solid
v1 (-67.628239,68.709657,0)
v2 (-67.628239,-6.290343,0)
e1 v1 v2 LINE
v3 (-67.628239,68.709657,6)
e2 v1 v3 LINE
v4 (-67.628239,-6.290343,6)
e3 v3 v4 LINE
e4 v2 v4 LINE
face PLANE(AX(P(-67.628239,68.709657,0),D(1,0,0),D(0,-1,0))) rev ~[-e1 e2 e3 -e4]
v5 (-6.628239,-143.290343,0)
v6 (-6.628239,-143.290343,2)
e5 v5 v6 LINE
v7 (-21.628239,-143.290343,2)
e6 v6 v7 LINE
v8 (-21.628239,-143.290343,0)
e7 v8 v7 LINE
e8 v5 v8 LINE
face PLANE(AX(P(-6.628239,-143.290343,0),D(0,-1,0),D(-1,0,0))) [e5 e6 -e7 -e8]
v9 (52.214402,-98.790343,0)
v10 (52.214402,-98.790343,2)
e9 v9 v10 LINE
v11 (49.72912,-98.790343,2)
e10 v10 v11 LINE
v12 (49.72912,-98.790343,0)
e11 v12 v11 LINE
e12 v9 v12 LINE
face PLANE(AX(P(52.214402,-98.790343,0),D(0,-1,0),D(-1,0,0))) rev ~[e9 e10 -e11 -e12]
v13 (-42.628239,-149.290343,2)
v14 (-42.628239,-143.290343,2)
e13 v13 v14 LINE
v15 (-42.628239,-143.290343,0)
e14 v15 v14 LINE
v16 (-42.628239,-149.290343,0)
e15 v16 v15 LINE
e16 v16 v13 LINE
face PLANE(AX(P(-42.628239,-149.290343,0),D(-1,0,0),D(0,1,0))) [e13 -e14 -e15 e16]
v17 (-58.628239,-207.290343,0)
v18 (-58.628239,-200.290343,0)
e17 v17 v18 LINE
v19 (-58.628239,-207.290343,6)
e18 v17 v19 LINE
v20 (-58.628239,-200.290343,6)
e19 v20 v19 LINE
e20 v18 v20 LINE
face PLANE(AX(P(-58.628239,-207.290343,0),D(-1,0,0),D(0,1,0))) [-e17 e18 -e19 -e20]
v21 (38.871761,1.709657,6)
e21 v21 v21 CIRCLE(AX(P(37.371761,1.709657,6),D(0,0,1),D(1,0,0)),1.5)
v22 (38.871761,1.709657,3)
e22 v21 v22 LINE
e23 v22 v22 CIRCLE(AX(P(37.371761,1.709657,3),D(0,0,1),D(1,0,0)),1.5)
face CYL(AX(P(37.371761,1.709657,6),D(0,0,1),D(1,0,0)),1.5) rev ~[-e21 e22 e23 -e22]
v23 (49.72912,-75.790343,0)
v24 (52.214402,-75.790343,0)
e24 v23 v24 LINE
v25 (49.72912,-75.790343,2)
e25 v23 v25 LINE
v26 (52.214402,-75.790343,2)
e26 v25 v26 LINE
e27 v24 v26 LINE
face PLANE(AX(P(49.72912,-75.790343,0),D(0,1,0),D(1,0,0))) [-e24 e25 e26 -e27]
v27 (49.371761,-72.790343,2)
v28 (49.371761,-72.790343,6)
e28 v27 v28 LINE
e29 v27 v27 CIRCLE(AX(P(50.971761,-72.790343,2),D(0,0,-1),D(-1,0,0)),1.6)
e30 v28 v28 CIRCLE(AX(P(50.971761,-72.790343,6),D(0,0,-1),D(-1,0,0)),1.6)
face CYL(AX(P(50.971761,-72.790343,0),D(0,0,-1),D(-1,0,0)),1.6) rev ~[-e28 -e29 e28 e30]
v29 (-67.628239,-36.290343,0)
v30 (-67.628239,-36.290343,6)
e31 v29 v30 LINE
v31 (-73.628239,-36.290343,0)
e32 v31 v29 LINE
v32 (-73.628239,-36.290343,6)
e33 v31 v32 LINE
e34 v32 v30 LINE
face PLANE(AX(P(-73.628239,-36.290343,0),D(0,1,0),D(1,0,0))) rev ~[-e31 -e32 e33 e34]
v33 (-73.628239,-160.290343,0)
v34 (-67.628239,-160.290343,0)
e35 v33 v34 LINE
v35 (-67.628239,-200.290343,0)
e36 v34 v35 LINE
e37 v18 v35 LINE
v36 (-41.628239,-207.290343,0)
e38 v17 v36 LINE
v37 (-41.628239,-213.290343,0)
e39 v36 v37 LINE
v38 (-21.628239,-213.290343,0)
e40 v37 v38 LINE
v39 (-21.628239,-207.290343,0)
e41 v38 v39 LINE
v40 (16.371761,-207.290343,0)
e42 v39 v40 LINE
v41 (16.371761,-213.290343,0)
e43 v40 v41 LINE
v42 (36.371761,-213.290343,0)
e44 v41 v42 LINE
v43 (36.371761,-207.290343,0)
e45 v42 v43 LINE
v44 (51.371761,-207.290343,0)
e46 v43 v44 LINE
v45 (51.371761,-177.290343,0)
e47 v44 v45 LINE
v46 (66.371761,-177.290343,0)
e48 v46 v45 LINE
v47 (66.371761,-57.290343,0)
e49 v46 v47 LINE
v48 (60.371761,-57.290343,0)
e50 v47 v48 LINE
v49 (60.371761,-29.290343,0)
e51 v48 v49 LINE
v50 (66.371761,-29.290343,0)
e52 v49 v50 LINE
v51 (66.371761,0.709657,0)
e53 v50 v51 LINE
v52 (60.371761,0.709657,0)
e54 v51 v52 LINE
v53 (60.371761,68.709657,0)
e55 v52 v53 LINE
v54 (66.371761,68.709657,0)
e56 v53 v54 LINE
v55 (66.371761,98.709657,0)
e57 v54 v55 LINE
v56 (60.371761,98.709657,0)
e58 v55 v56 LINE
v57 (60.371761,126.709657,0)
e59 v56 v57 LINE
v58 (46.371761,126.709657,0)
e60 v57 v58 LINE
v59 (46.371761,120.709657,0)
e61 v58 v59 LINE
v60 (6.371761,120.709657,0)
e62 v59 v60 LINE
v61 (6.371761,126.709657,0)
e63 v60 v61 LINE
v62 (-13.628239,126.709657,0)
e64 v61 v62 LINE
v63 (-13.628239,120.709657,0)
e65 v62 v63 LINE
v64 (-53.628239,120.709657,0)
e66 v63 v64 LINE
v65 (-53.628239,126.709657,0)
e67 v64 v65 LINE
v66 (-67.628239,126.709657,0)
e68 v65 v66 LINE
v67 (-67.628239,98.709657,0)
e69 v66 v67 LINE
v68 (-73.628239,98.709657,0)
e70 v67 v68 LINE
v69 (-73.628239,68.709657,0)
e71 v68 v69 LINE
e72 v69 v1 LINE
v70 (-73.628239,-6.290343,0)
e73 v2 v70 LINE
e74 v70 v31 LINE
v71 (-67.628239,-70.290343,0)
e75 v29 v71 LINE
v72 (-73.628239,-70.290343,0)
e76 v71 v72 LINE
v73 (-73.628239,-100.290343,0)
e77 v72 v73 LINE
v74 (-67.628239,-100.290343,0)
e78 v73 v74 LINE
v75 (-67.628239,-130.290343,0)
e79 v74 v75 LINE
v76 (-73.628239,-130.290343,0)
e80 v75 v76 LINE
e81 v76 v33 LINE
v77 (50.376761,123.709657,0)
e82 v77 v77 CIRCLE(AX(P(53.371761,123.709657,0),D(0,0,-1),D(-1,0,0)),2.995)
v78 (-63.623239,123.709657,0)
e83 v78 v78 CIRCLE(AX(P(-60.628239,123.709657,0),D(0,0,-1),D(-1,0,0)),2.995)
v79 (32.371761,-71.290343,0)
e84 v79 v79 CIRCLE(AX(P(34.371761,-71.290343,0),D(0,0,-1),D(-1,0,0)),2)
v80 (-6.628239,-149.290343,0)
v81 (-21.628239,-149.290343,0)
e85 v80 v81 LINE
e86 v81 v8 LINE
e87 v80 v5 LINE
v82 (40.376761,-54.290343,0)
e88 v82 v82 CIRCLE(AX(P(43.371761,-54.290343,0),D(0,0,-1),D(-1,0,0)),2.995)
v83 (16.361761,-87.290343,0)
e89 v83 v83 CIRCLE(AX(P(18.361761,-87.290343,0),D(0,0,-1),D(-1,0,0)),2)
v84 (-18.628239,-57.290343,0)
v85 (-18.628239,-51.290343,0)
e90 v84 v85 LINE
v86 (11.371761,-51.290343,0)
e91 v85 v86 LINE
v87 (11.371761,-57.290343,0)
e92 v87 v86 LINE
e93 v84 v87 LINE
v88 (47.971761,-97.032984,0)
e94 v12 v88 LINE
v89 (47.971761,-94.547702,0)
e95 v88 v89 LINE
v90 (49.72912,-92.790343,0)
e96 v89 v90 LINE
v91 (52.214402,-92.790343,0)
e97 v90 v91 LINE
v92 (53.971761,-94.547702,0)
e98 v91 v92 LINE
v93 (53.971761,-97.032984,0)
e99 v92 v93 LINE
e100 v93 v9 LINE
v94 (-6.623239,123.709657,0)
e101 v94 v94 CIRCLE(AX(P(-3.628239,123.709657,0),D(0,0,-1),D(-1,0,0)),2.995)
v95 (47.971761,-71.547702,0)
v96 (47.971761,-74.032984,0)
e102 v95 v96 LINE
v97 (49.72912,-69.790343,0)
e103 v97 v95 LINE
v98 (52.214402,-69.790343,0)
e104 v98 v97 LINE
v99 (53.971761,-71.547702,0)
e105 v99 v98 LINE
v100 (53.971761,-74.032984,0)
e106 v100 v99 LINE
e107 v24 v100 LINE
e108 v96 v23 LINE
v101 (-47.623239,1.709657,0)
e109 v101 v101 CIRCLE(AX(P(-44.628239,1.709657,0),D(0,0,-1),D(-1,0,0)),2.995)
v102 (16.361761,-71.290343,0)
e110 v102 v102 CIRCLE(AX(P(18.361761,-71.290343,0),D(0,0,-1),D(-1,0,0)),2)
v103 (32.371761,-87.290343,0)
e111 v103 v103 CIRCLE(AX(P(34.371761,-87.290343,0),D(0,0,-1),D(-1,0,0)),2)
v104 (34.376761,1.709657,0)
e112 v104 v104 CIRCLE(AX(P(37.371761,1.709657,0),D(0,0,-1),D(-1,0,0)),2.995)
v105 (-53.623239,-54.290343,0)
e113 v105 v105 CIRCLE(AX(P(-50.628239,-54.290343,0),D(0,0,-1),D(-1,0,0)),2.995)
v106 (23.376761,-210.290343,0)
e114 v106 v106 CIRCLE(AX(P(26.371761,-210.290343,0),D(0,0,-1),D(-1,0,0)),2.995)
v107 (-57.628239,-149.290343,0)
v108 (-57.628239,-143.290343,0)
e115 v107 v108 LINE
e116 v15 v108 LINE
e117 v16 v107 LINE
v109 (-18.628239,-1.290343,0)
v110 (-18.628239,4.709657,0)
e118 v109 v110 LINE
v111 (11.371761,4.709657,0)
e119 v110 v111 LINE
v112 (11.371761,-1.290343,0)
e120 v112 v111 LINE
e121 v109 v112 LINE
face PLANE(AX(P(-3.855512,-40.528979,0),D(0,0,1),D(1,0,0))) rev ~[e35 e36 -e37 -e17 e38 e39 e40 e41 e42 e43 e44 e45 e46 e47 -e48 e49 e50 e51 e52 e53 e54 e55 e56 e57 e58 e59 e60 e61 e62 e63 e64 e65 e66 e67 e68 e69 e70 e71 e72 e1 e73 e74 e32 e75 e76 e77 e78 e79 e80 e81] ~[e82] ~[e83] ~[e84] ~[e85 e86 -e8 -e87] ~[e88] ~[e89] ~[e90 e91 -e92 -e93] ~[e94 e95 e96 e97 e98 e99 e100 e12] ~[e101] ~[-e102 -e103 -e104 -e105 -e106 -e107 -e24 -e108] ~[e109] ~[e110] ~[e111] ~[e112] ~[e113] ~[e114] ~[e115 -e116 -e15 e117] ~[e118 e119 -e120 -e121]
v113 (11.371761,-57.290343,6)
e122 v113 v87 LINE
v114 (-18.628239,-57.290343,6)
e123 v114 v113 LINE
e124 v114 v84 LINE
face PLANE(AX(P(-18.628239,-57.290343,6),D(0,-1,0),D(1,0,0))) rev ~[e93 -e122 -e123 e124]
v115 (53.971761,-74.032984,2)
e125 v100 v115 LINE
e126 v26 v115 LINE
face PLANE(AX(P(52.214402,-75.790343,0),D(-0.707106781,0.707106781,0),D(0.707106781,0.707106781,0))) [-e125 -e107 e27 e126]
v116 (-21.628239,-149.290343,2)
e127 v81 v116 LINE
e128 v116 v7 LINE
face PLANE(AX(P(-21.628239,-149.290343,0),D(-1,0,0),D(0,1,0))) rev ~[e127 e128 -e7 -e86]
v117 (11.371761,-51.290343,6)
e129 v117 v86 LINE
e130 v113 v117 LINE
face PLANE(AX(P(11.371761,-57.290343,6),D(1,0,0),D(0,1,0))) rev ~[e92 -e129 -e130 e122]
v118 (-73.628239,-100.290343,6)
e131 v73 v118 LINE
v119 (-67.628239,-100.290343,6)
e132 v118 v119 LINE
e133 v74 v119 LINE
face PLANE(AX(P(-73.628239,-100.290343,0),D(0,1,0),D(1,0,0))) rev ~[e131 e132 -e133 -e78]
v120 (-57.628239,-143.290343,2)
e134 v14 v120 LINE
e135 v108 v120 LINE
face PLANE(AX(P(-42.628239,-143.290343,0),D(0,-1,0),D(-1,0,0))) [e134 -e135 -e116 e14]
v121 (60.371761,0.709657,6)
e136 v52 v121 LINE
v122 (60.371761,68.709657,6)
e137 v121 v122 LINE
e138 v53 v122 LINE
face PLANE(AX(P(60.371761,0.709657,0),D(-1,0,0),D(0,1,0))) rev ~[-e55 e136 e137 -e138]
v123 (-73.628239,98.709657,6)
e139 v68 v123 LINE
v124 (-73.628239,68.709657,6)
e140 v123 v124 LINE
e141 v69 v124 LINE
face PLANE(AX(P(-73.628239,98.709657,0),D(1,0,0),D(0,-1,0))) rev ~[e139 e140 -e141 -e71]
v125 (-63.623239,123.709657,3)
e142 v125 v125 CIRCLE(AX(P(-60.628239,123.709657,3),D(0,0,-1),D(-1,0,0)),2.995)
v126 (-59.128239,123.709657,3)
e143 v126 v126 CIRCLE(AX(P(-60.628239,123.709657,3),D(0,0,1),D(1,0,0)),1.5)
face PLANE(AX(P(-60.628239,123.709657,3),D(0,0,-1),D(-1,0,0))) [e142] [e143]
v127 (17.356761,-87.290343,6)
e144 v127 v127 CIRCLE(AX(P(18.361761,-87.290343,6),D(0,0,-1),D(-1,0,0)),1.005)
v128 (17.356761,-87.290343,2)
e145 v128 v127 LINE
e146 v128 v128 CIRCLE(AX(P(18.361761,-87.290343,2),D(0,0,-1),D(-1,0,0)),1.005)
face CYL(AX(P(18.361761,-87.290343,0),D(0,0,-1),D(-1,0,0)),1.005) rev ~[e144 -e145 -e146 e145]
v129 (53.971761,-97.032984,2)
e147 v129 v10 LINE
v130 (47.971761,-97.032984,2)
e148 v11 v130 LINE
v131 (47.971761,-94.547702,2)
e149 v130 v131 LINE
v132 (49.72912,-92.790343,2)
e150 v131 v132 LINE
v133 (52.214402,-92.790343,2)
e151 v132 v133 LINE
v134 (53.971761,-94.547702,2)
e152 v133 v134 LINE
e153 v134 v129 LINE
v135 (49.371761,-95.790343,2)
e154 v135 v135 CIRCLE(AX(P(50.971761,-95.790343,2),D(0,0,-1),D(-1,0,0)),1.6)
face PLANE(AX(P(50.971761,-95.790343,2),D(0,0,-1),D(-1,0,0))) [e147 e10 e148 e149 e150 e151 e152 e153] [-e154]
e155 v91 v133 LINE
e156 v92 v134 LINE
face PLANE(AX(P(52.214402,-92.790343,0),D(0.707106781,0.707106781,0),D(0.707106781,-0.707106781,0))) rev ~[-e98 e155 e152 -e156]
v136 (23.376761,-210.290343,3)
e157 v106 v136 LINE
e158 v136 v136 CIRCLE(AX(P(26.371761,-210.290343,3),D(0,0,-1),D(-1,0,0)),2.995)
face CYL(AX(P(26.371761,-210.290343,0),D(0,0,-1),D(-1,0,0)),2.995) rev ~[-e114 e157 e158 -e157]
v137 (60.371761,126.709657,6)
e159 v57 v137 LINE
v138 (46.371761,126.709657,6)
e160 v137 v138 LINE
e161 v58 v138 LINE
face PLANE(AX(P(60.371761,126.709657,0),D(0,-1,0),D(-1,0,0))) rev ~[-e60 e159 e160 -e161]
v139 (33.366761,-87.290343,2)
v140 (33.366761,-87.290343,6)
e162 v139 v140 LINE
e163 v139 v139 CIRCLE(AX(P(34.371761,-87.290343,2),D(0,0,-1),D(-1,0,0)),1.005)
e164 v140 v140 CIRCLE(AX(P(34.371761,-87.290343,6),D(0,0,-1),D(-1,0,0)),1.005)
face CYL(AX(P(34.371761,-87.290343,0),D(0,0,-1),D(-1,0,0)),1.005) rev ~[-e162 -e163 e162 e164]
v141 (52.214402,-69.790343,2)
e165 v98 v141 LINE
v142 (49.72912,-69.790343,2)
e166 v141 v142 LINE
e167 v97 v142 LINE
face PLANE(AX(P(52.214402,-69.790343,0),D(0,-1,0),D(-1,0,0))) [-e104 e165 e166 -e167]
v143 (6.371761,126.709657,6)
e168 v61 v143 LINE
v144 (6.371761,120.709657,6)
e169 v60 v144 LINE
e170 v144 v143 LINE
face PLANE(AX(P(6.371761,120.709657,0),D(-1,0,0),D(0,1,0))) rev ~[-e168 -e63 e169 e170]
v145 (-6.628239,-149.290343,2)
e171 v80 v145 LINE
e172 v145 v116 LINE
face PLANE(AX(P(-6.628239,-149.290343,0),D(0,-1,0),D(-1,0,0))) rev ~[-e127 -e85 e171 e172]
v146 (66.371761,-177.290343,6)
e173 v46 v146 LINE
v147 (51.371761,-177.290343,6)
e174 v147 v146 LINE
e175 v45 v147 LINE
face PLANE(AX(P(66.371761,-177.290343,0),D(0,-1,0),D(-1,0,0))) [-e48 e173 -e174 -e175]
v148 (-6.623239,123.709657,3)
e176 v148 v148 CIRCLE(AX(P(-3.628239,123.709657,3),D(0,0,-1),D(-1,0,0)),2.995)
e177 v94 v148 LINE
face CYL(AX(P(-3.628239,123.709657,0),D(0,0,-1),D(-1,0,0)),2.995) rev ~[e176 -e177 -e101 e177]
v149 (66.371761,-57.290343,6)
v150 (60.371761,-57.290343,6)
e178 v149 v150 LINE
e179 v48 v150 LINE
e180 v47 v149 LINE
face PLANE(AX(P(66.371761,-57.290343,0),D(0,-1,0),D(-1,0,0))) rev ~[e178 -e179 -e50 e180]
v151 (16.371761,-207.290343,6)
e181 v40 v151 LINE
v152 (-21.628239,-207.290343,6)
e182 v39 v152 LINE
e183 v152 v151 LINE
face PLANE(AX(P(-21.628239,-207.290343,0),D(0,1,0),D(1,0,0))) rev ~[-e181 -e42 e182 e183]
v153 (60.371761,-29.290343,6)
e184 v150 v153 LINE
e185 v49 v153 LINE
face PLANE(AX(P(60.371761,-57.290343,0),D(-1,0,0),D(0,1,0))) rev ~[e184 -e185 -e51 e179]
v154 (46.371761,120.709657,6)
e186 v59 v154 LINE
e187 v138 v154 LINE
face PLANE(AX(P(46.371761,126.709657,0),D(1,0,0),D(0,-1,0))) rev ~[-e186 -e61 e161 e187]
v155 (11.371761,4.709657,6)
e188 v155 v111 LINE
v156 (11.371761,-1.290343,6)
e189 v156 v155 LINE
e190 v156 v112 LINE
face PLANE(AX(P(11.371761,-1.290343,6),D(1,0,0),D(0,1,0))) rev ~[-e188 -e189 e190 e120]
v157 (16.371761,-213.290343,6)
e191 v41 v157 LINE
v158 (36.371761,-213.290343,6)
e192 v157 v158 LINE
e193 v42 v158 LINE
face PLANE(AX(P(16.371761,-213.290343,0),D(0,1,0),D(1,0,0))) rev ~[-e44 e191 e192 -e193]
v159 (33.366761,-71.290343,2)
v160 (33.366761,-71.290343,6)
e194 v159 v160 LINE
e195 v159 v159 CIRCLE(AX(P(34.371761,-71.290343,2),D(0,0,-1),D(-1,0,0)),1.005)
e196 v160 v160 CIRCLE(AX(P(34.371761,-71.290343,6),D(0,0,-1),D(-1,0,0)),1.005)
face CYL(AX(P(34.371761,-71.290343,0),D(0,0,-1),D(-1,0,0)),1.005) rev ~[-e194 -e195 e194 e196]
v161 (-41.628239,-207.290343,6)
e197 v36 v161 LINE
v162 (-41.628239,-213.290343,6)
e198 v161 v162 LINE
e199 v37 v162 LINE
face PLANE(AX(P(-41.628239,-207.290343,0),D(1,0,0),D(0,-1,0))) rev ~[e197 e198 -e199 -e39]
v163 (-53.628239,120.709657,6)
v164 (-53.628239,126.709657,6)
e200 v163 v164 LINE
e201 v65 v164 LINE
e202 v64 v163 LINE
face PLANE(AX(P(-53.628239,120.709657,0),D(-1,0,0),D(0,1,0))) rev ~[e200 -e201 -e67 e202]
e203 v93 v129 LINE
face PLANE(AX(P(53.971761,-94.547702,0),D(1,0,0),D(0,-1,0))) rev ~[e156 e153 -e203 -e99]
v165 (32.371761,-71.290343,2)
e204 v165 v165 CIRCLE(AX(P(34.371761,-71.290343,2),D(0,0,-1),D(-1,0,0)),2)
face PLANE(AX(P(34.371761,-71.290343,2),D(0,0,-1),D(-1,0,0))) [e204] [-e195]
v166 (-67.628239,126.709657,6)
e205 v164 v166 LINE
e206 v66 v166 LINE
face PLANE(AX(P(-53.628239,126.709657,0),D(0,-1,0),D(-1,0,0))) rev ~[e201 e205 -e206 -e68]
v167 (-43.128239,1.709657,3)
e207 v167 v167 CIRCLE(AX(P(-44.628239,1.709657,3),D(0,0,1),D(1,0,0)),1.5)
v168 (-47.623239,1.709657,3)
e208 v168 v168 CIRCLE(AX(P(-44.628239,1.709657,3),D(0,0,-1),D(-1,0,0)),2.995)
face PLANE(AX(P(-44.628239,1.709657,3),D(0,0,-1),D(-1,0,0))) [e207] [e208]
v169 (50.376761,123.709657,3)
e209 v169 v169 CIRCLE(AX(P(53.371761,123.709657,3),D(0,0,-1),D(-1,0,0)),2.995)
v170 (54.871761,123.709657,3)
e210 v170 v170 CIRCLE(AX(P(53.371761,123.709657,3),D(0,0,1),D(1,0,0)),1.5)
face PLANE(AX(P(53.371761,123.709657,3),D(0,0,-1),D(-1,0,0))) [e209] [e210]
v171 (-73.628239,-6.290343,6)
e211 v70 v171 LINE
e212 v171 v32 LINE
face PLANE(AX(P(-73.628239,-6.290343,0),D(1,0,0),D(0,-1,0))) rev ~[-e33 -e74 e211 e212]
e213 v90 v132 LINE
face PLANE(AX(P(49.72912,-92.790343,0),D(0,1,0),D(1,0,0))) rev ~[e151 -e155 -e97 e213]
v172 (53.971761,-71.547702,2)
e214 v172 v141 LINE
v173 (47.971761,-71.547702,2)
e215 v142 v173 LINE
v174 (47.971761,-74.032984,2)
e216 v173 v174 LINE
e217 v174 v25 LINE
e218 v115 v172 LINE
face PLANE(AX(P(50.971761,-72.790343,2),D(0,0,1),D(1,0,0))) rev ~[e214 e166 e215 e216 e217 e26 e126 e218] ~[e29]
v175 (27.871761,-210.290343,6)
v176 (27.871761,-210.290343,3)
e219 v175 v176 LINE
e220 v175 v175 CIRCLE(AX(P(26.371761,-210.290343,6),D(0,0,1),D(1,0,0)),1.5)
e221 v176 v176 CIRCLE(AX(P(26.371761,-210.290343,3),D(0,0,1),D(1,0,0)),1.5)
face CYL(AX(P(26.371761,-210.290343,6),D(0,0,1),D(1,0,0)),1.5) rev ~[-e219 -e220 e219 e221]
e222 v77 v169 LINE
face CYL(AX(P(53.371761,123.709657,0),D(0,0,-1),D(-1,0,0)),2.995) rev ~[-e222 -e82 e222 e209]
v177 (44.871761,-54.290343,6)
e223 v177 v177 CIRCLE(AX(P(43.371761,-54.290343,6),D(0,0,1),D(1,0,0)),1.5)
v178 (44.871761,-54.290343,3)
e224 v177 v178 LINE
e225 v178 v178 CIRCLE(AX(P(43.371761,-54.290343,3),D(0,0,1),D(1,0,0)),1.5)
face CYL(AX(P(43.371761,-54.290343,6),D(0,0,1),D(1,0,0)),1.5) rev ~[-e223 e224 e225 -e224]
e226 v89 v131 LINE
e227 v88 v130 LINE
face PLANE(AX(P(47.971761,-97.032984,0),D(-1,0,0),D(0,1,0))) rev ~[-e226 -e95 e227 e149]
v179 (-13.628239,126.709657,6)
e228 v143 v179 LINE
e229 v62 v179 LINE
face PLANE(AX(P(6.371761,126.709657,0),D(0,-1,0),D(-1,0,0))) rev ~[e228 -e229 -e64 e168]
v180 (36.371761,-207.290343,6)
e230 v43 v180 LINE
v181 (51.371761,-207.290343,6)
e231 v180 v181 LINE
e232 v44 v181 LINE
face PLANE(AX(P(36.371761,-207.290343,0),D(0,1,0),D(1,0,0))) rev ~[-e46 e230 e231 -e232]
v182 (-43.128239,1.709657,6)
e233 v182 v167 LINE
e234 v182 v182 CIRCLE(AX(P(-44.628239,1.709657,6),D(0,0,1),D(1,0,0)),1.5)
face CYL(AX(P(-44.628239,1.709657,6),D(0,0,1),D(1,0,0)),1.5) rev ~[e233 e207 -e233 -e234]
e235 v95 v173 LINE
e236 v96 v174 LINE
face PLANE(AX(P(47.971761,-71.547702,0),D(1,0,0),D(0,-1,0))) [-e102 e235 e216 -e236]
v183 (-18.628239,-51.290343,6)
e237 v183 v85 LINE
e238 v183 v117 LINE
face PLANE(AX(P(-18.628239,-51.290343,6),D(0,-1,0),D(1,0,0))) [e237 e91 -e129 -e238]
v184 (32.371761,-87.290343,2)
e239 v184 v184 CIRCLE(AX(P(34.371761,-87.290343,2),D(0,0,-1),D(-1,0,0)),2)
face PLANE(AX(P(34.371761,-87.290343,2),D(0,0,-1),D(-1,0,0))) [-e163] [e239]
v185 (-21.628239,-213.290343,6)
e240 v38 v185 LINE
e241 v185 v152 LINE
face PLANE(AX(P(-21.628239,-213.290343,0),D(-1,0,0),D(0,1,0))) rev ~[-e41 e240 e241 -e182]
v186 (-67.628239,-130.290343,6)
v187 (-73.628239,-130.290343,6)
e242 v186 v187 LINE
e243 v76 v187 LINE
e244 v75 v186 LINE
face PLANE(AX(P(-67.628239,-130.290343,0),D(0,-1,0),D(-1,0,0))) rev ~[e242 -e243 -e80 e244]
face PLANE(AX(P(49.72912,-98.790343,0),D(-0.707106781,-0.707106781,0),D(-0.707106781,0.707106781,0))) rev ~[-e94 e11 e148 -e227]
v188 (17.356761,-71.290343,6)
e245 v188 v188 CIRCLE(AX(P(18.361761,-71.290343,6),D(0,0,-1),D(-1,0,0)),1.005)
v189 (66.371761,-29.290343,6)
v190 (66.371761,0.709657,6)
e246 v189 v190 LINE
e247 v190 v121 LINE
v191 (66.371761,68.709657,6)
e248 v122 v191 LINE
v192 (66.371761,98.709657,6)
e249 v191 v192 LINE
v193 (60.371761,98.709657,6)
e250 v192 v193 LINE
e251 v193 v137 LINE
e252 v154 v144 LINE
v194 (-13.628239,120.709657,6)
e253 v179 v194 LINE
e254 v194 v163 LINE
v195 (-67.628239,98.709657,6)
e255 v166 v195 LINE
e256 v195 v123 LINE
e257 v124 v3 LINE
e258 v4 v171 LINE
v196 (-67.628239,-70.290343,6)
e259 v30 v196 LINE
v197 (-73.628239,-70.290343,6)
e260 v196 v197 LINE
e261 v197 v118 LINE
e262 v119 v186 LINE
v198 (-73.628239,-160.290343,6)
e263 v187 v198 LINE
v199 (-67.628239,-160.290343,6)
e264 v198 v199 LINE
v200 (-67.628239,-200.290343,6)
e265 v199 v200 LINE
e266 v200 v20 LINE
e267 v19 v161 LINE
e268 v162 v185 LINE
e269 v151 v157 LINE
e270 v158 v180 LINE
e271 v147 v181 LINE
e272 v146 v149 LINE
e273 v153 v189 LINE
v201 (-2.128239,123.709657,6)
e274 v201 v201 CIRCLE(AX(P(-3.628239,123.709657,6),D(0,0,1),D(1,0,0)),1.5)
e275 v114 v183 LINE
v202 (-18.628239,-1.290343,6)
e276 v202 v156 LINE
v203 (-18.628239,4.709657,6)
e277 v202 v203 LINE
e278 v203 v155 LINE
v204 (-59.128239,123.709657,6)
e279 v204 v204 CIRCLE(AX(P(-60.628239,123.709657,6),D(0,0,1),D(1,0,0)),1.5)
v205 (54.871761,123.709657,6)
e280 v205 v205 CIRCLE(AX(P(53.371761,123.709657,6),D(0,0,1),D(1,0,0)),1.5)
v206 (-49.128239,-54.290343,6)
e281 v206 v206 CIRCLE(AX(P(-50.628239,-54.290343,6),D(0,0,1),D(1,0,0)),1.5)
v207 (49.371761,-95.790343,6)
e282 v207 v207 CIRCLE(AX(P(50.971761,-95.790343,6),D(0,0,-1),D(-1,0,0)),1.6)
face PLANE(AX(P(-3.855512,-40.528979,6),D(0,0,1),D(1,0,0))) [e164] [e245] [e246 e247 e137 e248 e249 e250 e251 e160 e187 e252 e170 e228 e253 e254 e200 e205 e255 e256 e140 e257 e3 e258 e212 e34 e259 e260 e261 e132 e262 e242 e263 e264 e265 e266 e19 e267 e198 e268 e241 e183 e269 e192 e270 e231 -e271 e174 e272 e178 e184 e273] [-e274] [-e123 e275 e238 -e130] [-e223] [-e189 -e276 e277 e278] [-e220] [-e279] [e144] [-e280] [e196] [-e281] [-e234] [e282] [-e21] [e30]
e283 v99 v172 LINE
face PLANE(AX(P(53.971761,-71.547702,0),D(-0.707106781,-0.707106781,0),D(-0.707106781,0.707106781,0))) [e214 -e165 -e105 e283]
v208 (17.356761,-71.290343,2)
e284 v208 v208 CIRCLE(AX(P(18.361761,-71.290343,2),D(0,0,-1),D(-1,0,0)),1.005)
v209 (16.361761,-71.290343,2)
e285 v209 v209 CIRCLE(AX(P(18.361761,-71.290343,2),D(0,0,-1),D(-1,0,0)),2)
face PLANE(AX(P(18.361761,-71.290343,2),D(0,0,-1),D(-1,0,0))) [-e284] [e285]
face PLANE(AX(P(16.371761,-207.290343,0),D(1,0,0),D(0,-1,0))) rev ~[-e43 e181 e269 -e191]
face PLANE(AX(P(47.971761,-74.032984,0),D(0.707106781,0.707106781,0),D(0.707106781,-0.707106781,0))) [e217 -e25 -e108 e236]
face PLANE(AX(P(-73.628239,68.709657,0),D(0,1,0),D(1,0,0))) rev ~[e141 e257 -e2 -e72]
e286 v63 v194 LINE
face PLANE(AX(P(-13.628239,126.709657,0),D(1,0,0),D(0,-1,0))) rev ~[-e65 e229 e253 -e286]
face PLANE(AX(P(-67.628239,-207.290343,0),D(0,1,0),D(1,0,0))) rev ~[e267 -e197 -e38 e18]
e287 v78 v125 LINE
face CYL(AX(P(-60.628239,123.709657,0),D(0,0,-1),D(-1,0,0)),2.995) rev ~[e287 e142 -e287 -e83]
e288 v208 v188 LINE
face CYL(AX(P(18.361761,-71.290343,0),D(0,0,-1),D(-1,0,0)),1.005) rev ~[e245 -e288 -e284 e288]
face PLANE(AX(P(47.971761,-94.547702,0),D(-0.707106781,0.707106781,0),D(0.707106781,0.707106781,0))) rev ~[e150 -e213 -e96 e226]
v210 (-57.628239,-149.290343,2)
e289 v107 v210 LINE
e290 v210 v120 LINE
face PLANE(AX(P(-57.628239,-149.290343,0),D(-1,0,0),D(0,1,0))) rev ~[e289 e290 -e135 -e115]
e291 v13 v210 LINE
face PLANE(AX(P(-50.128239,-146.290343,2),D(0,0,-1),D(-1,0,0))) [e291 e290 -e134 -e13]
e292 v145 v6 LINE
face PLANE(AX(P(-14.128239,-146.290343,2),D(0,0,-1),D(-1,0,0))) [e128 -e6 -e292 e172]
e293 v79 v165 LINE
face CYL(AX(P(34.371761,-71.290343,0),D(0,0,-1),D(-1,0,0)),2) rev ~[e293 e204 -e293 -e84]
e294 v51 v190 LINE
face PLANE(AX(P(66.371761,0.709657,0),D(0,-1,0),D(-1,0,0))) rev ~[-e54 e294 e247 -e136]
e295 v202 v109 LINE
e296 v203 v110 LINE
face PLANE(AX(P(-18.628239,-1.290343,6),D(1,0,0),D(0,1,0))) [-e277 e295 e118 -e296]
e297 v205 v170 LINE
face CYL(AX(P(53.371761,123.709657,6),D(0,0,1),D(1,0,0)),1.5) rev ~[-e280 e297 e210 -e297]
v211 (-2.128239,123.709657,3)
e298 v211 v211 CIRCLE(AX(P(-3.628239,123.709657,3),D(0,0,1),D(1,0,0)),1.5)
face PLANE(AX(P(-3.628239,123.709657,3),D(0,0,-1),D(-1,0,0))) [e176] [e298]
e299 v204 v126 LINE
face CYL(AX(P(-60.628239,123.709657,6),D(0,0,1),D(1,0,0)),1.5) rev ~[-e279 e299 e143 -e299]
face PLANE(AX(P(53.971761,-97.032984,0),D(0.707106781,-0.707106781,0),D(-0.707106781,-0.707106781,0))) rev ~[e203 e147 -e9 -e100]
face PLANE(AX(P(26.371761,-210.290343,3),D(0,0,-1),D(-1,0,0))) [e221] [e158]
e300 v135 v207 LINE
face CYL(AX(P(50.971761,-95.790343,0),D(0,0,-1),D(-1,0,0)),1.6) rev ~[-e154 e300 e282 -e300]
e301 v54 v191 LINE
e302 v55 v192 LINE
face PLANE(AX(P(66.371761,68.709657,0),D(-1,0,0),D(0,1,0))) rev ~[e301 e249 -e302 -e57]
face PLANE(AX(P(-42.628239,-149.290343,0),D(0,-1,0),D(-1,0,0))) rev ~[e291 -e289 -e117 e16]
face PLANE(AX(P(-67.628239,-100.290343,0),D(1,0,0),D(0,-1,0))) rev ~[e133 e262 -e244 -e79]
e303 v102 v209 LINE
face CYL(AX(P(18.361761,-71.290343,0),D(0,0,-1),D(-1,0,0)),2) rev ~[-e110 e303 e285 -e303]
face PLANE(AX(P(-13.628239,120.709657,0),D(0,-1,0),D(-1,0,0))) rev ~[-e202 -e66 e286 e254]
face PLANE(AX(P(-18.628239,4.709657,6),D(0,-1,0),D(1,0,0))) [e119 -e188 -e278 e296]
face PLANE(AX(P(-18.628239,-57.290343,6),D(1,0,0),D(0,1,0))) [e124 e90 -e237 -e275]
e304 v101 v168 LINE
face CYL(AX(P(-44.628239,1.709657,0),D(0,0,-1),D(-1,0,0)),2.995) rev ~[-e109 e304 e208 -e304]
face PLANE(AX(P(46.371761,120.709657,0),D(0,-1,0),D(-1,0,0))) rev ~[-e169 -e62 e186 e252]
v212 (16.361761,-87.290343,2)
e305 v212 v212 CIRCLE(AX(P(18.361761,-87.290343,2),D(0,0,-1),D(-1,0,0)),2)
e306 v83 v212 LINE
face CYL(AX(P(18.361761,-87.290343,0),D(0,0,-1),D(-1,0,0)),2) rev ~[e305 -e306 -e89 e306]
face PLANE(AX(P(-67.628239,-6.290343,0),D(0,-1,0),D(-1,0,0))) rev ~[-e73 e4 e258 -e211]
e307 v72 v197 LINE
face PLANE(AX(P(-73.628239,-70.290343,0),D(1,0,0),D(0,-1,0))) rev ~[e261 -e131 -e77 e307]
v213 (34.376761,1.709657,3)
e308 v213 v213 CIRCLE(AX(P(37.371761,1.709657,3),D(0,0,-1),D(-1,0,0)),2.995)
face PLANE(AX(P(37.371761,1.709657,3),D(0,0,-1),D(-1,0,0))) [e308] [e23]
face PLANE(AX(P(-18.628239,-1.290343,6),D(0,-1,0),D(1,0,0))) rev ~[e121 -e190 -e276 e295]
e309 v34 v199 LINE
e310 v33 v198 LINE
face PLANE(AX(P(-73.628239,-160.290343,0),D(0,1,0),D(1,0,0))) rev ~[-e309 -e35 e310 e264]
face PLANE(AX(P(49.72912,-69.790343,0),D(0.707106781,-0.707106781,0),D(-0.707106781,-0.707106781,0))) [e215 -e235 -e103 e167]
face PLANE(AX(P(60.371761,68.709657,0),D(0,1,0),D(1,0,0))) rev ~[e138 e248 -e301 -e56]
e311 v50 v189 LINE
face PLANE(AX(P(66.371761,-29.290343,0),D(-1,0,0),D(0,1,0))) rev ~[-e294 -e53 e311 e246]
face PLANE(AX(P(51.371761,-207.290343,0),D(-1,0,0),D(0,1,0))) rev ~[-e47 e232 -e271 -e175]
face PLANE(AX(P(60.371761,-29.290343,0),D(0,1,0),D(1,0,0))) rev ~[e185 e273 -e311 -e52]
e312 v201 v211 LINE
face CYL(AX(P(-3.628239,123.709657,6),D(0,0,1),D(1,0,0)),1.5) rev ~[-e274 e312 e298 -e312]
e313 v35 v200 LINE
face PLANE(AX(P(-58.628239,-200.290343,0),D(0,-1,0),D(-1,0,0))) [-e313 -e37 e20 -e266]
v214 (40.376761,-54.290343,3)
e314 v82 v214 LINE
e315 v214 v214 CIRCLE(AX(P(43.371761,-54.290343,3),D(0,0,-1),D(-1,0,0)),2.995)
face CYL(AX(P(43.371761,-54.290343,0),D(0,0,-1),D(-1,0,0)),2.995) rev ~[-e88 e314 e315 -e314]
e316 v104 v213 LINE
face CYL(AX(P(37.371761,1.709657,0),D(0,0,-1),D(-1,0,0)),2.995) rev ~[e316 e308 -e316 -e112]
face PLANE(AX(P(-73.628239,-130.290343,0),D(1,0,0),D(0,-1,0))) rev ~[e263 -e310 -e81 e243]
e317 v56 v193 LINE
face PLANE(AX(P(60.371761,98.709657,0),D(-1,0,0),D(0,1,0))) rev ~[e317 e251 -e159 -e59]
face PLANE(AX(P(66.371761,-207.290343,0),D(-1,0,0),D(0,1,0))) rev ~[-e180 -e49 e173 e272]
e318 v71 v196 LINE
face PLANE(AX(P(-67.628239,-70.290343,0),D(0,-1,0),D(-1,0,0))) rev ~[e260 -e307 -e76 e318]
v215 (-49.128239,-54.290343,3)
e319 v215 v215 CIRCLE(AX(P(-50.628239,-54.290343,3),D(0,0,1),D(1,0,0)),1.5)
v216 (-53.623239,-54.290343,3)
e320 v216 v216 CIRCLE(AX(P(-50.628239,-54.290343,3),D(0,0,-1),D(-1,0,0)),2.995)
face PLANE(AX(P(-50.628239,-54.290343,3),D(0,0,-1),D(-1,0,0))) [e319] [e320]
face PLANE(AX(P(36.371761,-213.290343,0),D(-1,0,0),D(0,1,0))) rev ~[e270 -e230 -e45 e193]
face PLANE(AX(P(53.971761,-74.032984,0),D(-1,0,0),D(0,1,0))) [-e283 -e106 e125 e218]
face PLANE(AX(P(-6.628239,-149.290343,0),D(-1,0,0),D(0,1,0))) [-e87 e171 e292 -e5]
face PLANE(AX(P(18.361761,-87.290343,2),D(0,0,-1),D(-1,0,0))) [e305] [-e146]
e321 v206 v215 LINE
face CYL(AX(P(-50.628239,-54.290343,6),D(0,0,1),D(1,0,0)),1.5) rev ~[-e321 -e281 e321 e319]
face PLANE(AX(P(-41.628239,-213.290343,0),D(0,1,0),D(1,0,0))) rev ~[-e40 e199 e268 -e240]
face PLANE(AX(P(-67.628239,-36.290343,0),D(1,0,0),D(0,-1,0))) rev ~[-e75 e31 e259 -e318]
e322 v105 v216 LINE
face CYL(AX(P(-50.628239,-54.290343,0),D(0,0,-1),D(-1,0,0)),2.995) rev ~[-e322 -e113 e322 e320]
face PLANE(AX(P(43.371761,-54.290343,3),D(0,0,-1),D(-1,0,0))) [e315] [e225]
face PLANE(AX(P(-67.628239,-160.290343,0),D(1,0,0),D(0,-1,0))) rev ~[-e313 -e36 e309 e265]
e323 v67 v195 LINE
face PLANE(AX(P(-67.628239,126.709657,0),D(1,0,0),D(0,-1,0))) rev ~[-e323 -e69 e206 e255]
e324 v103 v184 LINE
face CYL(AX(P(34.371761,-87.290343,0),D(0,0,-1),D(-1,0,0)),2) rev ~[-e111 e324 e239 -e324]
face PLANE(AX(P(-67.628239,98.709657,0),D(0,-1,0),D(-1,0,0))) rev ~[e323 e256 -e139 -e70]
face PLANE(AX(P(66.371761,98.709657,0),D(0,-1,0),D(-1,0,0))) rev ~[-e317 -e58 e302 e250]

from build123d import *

# Parameters (mm, degrees)
BOSS_EXTRU_1_DEPTH      = 6
ESQUISSE2_R             = 1.5
ESQUISSE2_W             = 30
ESQUISSE2_H             = 6
ENL_V_MAT_EXTRU_1_DEPTH = 226.720818795
ESQUISSE5_R             = 2.995
ENL_V_MAT_EXTRU_2_DEPTH = 3
ESQUISSE6_R             = 1.005
ENL_V_MAT_EXTRU_3_DEPTH = 226.720818795
ESQUISSE7_R             = 2
ENL_V_MAT_EXTRU_4_DEPTH = 2
ESQUISSE8_W             = 15
ESQUISSE8_H             = 30
ESQUISSE8_W_2           = 9
ESQUISSE8_H_2           = 7
ENL_V_MAT_EXTRU_5_DEPTH = 226.720818795
ESQUISSE13_R            = 1.6
ENL_V_MAT_EXTRU_7_DEPTH = 6
ESQUISSE14_W            = 15
ESQUISSE14_H            = 6
ESQUISSE14_R            = 1.6
ENL_V_MAT_EXTRU_8_DEPTH = 2


with BuildPart() as part:
    # Esquisse1 → Boss.-Extru.1 (new body)
    with BuildSketch(Plane.XY):
        Polygon((-67.628238976, -36.290343107), (-67.628238976, -70.290343107), (-73.628238976, -70.290343107), (-73.628238976, -100.290343107), (-67.628238976, -100.290343107), (-67.628238976, -130.290343107), (-73.628238976, -130.290343107), (-73.628238976, -160.290343107), (-67.628238976, -160.290343107), (-67.628238976, -207.290343107), (-41.628238976, -207.290343107), (-41.628238976, -213.290343107), (-21.628238976, -213.290343107), (-21.628238976, -207.290343107), (16.371761024, -207.290343107), (16.371761024, -213.290343107), (36.371761024, -213.290343107), (36.371761024, -207.290343107), (66.371761024, -207.290343107), (66.371761024, -57.290343107), (60.371761024, -57.290343107), (60.371761024, -29.290343107), (66.371761024, -29.290343107), (66.371761024, 0.709656893), (60.371761024, 0.709656893), (60.371761024, 68.709656893), (66.371761024, 68.709656893), (66.371761024, 98.709656893), (60.371761024, 98.709656893), (60.371761024, 126.709656893), (46.371761024, 126.709656893), (46.371761024, 120.709656893), (6.371761024, 120.709656893), (6.371761024, 126.709656893), (-13.628238976, 126.709656893), (-13.628238976, 120.709656893), (-53.628238976, 120.709656893), (-53.628238976, 126.709656893), (-67.628238976, 126.709656893), (-67.628238976, 98.709656893), (-73.628238976, 98.709656893), (-73.628238976, 68.709656893), (-67.628238976, 68.709656893), (-67.628238976, -6.290343107), (-73.628238976, -6.290343107), (-73.628238976, -36.290343107), align=None)
    extrude(amount=BOSS_EXTRU_1_DEPTH)

    # Esquisse2 → Enlèv. mat.-Extru.1 (cut, through all)
    with BuildSketch(Plane.XY.offset(6)):
        with Locations((-44.628238976, 1.709656893)):
            Circle(ESQUISSE2_R)
        with Locations((37.371761024, 1.709656893)):
            Circle(ESQUISSE2_R)
        with Locations((43.371761024, -54.290343107)):
            Circle(ESQUISSE2_R)
        with Locations((-50.628238976, -54.290343107)):
            Circle(ESQUISSE2_R)
        with Locations((-3.628238976, 123.709656893)):
            Circle(ESQUISSE2_R)
        with Locations((-60.628238976, 123.709656893)):
            Circle(ESQUISSE2_R)
        with Locations((53.371761024, 123.709656893)):
            Circle(ESQUISSE2_R)
        with Locations((26.371761024, -210.290343107)):
            Circle(ESQUISSE2_R)
        with Locations((-3.628238976, 1.709656893)):
            Rectangle(ESQUISSE2_W, ESQUISSE2_H)
        with Locations((-3.628238976, -54.290343107)):
            Rectangle(ESQUISSE2_W, ESQUISSE2_H)
    extrude(amount=-ENL_V_MAT_EXTRU_1_DEPTH, mode=Mode.SUBTRACT)

    # Esquisse5 → Enlèv. mat.-Extru.2 (cut)
    with BuildSketch(Plane(origin=(0, 0, 0), x_dir=(-1, 0, 0), z_dir=(0, 0, -1))):
        with Locations((-43.371761024, -54.290343107)):
            Circle(ESQUISSE5_R)
        with Locations((50.628238976, -54.290343107)):
            Circle(ESQUISSE5_R)
        with Locations((44.628238976, 1.709656893)):
            Circle(ESQUISSE5_R)
        with Locations((-37.371761024, 1.709656893)):
            Circle(ESQUISSE5_R)
        with Locations((-53.371761024, 123.709656893)):
            Circle(ESQUISSE5_R)
        with Locations((3.628238976, 123.709656893)):
            Circle(ESQUISSE5_R)
        with Locations((60.628238976, 123.709656893)):
            Circle(ESQUISSE5_R)
        with Locations((-26.371761024, -210.290343107)):
            Circle(ESQUISSE5_R)
    extrude(amount=-ENL_V_MAT_EXTRU_2_DEPTH, mode=Mode.SUBTRACT)

    # Esquisse6 → Enlèv. mat.-Extru.3 (cut, through all)
    with BuildSketch(Plane(origin=(0, 0, 0), x_dir=(-1, 0, 0), z_dir=(0, 0, -1))):
        with Locations((-34.371761024, -71.290343107)):
            Circle(ESQUISSE6_R)
        with Locations((-18.361761024, -71.290343107)):
            Circle(ESQUISSE6_R)
        with Locations((-34.371761024, -87.290343107)):
            Circle(ESQUISSE6_R)
        with Locations((-18.361761024, -87.290343107)):
            Circle(ESQUISSE6_R)
    extrude(amount=-ENL_V_MAT_EXTRU_3_DEPTH, mode=Mode.SUBTRACT)

    # Esquisse7 → Enlèv. mat.-Extru.4 (cut)
    with BuildSketch(Plane(origin=(0, 0, 0), x_dir=(-1, 0, 0), z_dir=(0, 0, -1))):
        with Locations((-34.371761024, -71.290343107)):
            Circle(ESQUISSE7_R)
        with Locations((-18.361761024, -71.290343107)):
            Circle(ESQUISSE7_R)
        with Locations((-18.361761024, -87.290343107)):
            Circle(ESQUISSE7_R)
        with Locations((-34.371761024, -87.290343107)):
            Circle(ESQUISSE7_R)
    extrude(amount=-ENL_V_MAT_EXTRU_4_DEPTH, mode=Mode.SUBTRACT)

    # Esquisse8 → Enlèv. mat.-Extru.5 (cut, through all)
    with BuildSketch(Plane(origin=(0, 0, 0), x_dir=(-1, 0, 0), z_dir=(0, 0, -1))):
        with Locations((-58.871761024, -192.290343107)):
            Rectangle(ESQUISSE8_W, ESQUISSE8_H)
        with Locations((63.128238976, -203.790343107)):
            Rectangle(ESQUISSE8_W_2, ESQUISSE8_H_2)
    extrude(amount=-ENL_V_MAT_EXTRU_5_DEPTH, mode=Mode.SUBTRACT)

    # Esquisse13 → Enlèv. mat.-Extru.7 (cut)
    with BuildSketch(Plane(origin=(0, 0, 0), x_dir=(-1, 0, 0), z_dir=(0, 0, -1))):
        with Locations((-50.971761024, -72.790343107)):
            Circle(ESQUISSE13_R)
        with Locations((-50.971761024, -95.790343107)):
            Circle(ESQUISSE13_R)
    extrude(amount=-ENL_V_MAT_EXTRU_7_DEPTH, mode=Mode.SUBTRACT)

    # Esquisse14 → Enlèv. mat.-Extru.8 (cut)
    # profile 1 of 4: a face of its own
    with BuildSketch(Plane(origin=(0, 0, 0), x_dir=(-1, 0, 0), z_dir=(0, 0, -1))):
        with Locations((50.128238976, -146.290343107)):
            Rectangle(ESQUISSE14_W, ESQUISSE14_H)
    # profile 2 of 4: a face of its own
    with BuildSketch(Plane(origin=(0, 0, 0), x_dir=(-1, 0, 0), z_dir=(0, 0, -1))):
        Polygon((-52.214401711, -69.790343107), (-49.729120337, -69.790343107), (-47.971761024, -71.54770242), (-47.971761024, -74.032983794), (-49.729120337, -75.790343107), (-52.214401711, -75.790343107), (-53.971761024, -74.032983794), (-53.971761024, -71.54770242), align=None)
        with Locations((-50.971761024, -72.790343107)):
            Circle(ESQUISSE14_R, mode=Mode.SUBTRACT)
    # profile 3 of 4: a face of its own
    with BuildSketch(Plane(origin=(0, 0, 0), x_dir=(-1, 0, 0), z_dir=(0, 0, -1))):
        with Locations((14.128238976, -146.290343107)):
            Rectangle(ESQUISSE14_W, ESQUISSE14_H)
    # profile 4 of 4: a face of its own
    with BuildSketch(Plane(origin=(0, 0, 0), x_dir=(-1, 0, 0), z_dir=(0, 0, -1))):
        Polygon((-47.971761024, -94.54770242), (-49.729120337, -92.790343107), (-52.214401711, -92.790343107), (-53.971761024, -94.54770242), (-53.971761024, -97.032983794), (-52.214401711, -98.790343107), (-49.729120337, -98.790343107), (-47.971761024, -97.032983794), align=None)
        with Locations((-50.971761024, -95.790343107)):
            Circle(ESQUISSE14_R, mode=Mode.SUBTRACT)
    extrude(amount=-ENL_V_MAT_EXTRU_8_DEPTH, mode=Mode.SUBTRACT)


solid = part.part
